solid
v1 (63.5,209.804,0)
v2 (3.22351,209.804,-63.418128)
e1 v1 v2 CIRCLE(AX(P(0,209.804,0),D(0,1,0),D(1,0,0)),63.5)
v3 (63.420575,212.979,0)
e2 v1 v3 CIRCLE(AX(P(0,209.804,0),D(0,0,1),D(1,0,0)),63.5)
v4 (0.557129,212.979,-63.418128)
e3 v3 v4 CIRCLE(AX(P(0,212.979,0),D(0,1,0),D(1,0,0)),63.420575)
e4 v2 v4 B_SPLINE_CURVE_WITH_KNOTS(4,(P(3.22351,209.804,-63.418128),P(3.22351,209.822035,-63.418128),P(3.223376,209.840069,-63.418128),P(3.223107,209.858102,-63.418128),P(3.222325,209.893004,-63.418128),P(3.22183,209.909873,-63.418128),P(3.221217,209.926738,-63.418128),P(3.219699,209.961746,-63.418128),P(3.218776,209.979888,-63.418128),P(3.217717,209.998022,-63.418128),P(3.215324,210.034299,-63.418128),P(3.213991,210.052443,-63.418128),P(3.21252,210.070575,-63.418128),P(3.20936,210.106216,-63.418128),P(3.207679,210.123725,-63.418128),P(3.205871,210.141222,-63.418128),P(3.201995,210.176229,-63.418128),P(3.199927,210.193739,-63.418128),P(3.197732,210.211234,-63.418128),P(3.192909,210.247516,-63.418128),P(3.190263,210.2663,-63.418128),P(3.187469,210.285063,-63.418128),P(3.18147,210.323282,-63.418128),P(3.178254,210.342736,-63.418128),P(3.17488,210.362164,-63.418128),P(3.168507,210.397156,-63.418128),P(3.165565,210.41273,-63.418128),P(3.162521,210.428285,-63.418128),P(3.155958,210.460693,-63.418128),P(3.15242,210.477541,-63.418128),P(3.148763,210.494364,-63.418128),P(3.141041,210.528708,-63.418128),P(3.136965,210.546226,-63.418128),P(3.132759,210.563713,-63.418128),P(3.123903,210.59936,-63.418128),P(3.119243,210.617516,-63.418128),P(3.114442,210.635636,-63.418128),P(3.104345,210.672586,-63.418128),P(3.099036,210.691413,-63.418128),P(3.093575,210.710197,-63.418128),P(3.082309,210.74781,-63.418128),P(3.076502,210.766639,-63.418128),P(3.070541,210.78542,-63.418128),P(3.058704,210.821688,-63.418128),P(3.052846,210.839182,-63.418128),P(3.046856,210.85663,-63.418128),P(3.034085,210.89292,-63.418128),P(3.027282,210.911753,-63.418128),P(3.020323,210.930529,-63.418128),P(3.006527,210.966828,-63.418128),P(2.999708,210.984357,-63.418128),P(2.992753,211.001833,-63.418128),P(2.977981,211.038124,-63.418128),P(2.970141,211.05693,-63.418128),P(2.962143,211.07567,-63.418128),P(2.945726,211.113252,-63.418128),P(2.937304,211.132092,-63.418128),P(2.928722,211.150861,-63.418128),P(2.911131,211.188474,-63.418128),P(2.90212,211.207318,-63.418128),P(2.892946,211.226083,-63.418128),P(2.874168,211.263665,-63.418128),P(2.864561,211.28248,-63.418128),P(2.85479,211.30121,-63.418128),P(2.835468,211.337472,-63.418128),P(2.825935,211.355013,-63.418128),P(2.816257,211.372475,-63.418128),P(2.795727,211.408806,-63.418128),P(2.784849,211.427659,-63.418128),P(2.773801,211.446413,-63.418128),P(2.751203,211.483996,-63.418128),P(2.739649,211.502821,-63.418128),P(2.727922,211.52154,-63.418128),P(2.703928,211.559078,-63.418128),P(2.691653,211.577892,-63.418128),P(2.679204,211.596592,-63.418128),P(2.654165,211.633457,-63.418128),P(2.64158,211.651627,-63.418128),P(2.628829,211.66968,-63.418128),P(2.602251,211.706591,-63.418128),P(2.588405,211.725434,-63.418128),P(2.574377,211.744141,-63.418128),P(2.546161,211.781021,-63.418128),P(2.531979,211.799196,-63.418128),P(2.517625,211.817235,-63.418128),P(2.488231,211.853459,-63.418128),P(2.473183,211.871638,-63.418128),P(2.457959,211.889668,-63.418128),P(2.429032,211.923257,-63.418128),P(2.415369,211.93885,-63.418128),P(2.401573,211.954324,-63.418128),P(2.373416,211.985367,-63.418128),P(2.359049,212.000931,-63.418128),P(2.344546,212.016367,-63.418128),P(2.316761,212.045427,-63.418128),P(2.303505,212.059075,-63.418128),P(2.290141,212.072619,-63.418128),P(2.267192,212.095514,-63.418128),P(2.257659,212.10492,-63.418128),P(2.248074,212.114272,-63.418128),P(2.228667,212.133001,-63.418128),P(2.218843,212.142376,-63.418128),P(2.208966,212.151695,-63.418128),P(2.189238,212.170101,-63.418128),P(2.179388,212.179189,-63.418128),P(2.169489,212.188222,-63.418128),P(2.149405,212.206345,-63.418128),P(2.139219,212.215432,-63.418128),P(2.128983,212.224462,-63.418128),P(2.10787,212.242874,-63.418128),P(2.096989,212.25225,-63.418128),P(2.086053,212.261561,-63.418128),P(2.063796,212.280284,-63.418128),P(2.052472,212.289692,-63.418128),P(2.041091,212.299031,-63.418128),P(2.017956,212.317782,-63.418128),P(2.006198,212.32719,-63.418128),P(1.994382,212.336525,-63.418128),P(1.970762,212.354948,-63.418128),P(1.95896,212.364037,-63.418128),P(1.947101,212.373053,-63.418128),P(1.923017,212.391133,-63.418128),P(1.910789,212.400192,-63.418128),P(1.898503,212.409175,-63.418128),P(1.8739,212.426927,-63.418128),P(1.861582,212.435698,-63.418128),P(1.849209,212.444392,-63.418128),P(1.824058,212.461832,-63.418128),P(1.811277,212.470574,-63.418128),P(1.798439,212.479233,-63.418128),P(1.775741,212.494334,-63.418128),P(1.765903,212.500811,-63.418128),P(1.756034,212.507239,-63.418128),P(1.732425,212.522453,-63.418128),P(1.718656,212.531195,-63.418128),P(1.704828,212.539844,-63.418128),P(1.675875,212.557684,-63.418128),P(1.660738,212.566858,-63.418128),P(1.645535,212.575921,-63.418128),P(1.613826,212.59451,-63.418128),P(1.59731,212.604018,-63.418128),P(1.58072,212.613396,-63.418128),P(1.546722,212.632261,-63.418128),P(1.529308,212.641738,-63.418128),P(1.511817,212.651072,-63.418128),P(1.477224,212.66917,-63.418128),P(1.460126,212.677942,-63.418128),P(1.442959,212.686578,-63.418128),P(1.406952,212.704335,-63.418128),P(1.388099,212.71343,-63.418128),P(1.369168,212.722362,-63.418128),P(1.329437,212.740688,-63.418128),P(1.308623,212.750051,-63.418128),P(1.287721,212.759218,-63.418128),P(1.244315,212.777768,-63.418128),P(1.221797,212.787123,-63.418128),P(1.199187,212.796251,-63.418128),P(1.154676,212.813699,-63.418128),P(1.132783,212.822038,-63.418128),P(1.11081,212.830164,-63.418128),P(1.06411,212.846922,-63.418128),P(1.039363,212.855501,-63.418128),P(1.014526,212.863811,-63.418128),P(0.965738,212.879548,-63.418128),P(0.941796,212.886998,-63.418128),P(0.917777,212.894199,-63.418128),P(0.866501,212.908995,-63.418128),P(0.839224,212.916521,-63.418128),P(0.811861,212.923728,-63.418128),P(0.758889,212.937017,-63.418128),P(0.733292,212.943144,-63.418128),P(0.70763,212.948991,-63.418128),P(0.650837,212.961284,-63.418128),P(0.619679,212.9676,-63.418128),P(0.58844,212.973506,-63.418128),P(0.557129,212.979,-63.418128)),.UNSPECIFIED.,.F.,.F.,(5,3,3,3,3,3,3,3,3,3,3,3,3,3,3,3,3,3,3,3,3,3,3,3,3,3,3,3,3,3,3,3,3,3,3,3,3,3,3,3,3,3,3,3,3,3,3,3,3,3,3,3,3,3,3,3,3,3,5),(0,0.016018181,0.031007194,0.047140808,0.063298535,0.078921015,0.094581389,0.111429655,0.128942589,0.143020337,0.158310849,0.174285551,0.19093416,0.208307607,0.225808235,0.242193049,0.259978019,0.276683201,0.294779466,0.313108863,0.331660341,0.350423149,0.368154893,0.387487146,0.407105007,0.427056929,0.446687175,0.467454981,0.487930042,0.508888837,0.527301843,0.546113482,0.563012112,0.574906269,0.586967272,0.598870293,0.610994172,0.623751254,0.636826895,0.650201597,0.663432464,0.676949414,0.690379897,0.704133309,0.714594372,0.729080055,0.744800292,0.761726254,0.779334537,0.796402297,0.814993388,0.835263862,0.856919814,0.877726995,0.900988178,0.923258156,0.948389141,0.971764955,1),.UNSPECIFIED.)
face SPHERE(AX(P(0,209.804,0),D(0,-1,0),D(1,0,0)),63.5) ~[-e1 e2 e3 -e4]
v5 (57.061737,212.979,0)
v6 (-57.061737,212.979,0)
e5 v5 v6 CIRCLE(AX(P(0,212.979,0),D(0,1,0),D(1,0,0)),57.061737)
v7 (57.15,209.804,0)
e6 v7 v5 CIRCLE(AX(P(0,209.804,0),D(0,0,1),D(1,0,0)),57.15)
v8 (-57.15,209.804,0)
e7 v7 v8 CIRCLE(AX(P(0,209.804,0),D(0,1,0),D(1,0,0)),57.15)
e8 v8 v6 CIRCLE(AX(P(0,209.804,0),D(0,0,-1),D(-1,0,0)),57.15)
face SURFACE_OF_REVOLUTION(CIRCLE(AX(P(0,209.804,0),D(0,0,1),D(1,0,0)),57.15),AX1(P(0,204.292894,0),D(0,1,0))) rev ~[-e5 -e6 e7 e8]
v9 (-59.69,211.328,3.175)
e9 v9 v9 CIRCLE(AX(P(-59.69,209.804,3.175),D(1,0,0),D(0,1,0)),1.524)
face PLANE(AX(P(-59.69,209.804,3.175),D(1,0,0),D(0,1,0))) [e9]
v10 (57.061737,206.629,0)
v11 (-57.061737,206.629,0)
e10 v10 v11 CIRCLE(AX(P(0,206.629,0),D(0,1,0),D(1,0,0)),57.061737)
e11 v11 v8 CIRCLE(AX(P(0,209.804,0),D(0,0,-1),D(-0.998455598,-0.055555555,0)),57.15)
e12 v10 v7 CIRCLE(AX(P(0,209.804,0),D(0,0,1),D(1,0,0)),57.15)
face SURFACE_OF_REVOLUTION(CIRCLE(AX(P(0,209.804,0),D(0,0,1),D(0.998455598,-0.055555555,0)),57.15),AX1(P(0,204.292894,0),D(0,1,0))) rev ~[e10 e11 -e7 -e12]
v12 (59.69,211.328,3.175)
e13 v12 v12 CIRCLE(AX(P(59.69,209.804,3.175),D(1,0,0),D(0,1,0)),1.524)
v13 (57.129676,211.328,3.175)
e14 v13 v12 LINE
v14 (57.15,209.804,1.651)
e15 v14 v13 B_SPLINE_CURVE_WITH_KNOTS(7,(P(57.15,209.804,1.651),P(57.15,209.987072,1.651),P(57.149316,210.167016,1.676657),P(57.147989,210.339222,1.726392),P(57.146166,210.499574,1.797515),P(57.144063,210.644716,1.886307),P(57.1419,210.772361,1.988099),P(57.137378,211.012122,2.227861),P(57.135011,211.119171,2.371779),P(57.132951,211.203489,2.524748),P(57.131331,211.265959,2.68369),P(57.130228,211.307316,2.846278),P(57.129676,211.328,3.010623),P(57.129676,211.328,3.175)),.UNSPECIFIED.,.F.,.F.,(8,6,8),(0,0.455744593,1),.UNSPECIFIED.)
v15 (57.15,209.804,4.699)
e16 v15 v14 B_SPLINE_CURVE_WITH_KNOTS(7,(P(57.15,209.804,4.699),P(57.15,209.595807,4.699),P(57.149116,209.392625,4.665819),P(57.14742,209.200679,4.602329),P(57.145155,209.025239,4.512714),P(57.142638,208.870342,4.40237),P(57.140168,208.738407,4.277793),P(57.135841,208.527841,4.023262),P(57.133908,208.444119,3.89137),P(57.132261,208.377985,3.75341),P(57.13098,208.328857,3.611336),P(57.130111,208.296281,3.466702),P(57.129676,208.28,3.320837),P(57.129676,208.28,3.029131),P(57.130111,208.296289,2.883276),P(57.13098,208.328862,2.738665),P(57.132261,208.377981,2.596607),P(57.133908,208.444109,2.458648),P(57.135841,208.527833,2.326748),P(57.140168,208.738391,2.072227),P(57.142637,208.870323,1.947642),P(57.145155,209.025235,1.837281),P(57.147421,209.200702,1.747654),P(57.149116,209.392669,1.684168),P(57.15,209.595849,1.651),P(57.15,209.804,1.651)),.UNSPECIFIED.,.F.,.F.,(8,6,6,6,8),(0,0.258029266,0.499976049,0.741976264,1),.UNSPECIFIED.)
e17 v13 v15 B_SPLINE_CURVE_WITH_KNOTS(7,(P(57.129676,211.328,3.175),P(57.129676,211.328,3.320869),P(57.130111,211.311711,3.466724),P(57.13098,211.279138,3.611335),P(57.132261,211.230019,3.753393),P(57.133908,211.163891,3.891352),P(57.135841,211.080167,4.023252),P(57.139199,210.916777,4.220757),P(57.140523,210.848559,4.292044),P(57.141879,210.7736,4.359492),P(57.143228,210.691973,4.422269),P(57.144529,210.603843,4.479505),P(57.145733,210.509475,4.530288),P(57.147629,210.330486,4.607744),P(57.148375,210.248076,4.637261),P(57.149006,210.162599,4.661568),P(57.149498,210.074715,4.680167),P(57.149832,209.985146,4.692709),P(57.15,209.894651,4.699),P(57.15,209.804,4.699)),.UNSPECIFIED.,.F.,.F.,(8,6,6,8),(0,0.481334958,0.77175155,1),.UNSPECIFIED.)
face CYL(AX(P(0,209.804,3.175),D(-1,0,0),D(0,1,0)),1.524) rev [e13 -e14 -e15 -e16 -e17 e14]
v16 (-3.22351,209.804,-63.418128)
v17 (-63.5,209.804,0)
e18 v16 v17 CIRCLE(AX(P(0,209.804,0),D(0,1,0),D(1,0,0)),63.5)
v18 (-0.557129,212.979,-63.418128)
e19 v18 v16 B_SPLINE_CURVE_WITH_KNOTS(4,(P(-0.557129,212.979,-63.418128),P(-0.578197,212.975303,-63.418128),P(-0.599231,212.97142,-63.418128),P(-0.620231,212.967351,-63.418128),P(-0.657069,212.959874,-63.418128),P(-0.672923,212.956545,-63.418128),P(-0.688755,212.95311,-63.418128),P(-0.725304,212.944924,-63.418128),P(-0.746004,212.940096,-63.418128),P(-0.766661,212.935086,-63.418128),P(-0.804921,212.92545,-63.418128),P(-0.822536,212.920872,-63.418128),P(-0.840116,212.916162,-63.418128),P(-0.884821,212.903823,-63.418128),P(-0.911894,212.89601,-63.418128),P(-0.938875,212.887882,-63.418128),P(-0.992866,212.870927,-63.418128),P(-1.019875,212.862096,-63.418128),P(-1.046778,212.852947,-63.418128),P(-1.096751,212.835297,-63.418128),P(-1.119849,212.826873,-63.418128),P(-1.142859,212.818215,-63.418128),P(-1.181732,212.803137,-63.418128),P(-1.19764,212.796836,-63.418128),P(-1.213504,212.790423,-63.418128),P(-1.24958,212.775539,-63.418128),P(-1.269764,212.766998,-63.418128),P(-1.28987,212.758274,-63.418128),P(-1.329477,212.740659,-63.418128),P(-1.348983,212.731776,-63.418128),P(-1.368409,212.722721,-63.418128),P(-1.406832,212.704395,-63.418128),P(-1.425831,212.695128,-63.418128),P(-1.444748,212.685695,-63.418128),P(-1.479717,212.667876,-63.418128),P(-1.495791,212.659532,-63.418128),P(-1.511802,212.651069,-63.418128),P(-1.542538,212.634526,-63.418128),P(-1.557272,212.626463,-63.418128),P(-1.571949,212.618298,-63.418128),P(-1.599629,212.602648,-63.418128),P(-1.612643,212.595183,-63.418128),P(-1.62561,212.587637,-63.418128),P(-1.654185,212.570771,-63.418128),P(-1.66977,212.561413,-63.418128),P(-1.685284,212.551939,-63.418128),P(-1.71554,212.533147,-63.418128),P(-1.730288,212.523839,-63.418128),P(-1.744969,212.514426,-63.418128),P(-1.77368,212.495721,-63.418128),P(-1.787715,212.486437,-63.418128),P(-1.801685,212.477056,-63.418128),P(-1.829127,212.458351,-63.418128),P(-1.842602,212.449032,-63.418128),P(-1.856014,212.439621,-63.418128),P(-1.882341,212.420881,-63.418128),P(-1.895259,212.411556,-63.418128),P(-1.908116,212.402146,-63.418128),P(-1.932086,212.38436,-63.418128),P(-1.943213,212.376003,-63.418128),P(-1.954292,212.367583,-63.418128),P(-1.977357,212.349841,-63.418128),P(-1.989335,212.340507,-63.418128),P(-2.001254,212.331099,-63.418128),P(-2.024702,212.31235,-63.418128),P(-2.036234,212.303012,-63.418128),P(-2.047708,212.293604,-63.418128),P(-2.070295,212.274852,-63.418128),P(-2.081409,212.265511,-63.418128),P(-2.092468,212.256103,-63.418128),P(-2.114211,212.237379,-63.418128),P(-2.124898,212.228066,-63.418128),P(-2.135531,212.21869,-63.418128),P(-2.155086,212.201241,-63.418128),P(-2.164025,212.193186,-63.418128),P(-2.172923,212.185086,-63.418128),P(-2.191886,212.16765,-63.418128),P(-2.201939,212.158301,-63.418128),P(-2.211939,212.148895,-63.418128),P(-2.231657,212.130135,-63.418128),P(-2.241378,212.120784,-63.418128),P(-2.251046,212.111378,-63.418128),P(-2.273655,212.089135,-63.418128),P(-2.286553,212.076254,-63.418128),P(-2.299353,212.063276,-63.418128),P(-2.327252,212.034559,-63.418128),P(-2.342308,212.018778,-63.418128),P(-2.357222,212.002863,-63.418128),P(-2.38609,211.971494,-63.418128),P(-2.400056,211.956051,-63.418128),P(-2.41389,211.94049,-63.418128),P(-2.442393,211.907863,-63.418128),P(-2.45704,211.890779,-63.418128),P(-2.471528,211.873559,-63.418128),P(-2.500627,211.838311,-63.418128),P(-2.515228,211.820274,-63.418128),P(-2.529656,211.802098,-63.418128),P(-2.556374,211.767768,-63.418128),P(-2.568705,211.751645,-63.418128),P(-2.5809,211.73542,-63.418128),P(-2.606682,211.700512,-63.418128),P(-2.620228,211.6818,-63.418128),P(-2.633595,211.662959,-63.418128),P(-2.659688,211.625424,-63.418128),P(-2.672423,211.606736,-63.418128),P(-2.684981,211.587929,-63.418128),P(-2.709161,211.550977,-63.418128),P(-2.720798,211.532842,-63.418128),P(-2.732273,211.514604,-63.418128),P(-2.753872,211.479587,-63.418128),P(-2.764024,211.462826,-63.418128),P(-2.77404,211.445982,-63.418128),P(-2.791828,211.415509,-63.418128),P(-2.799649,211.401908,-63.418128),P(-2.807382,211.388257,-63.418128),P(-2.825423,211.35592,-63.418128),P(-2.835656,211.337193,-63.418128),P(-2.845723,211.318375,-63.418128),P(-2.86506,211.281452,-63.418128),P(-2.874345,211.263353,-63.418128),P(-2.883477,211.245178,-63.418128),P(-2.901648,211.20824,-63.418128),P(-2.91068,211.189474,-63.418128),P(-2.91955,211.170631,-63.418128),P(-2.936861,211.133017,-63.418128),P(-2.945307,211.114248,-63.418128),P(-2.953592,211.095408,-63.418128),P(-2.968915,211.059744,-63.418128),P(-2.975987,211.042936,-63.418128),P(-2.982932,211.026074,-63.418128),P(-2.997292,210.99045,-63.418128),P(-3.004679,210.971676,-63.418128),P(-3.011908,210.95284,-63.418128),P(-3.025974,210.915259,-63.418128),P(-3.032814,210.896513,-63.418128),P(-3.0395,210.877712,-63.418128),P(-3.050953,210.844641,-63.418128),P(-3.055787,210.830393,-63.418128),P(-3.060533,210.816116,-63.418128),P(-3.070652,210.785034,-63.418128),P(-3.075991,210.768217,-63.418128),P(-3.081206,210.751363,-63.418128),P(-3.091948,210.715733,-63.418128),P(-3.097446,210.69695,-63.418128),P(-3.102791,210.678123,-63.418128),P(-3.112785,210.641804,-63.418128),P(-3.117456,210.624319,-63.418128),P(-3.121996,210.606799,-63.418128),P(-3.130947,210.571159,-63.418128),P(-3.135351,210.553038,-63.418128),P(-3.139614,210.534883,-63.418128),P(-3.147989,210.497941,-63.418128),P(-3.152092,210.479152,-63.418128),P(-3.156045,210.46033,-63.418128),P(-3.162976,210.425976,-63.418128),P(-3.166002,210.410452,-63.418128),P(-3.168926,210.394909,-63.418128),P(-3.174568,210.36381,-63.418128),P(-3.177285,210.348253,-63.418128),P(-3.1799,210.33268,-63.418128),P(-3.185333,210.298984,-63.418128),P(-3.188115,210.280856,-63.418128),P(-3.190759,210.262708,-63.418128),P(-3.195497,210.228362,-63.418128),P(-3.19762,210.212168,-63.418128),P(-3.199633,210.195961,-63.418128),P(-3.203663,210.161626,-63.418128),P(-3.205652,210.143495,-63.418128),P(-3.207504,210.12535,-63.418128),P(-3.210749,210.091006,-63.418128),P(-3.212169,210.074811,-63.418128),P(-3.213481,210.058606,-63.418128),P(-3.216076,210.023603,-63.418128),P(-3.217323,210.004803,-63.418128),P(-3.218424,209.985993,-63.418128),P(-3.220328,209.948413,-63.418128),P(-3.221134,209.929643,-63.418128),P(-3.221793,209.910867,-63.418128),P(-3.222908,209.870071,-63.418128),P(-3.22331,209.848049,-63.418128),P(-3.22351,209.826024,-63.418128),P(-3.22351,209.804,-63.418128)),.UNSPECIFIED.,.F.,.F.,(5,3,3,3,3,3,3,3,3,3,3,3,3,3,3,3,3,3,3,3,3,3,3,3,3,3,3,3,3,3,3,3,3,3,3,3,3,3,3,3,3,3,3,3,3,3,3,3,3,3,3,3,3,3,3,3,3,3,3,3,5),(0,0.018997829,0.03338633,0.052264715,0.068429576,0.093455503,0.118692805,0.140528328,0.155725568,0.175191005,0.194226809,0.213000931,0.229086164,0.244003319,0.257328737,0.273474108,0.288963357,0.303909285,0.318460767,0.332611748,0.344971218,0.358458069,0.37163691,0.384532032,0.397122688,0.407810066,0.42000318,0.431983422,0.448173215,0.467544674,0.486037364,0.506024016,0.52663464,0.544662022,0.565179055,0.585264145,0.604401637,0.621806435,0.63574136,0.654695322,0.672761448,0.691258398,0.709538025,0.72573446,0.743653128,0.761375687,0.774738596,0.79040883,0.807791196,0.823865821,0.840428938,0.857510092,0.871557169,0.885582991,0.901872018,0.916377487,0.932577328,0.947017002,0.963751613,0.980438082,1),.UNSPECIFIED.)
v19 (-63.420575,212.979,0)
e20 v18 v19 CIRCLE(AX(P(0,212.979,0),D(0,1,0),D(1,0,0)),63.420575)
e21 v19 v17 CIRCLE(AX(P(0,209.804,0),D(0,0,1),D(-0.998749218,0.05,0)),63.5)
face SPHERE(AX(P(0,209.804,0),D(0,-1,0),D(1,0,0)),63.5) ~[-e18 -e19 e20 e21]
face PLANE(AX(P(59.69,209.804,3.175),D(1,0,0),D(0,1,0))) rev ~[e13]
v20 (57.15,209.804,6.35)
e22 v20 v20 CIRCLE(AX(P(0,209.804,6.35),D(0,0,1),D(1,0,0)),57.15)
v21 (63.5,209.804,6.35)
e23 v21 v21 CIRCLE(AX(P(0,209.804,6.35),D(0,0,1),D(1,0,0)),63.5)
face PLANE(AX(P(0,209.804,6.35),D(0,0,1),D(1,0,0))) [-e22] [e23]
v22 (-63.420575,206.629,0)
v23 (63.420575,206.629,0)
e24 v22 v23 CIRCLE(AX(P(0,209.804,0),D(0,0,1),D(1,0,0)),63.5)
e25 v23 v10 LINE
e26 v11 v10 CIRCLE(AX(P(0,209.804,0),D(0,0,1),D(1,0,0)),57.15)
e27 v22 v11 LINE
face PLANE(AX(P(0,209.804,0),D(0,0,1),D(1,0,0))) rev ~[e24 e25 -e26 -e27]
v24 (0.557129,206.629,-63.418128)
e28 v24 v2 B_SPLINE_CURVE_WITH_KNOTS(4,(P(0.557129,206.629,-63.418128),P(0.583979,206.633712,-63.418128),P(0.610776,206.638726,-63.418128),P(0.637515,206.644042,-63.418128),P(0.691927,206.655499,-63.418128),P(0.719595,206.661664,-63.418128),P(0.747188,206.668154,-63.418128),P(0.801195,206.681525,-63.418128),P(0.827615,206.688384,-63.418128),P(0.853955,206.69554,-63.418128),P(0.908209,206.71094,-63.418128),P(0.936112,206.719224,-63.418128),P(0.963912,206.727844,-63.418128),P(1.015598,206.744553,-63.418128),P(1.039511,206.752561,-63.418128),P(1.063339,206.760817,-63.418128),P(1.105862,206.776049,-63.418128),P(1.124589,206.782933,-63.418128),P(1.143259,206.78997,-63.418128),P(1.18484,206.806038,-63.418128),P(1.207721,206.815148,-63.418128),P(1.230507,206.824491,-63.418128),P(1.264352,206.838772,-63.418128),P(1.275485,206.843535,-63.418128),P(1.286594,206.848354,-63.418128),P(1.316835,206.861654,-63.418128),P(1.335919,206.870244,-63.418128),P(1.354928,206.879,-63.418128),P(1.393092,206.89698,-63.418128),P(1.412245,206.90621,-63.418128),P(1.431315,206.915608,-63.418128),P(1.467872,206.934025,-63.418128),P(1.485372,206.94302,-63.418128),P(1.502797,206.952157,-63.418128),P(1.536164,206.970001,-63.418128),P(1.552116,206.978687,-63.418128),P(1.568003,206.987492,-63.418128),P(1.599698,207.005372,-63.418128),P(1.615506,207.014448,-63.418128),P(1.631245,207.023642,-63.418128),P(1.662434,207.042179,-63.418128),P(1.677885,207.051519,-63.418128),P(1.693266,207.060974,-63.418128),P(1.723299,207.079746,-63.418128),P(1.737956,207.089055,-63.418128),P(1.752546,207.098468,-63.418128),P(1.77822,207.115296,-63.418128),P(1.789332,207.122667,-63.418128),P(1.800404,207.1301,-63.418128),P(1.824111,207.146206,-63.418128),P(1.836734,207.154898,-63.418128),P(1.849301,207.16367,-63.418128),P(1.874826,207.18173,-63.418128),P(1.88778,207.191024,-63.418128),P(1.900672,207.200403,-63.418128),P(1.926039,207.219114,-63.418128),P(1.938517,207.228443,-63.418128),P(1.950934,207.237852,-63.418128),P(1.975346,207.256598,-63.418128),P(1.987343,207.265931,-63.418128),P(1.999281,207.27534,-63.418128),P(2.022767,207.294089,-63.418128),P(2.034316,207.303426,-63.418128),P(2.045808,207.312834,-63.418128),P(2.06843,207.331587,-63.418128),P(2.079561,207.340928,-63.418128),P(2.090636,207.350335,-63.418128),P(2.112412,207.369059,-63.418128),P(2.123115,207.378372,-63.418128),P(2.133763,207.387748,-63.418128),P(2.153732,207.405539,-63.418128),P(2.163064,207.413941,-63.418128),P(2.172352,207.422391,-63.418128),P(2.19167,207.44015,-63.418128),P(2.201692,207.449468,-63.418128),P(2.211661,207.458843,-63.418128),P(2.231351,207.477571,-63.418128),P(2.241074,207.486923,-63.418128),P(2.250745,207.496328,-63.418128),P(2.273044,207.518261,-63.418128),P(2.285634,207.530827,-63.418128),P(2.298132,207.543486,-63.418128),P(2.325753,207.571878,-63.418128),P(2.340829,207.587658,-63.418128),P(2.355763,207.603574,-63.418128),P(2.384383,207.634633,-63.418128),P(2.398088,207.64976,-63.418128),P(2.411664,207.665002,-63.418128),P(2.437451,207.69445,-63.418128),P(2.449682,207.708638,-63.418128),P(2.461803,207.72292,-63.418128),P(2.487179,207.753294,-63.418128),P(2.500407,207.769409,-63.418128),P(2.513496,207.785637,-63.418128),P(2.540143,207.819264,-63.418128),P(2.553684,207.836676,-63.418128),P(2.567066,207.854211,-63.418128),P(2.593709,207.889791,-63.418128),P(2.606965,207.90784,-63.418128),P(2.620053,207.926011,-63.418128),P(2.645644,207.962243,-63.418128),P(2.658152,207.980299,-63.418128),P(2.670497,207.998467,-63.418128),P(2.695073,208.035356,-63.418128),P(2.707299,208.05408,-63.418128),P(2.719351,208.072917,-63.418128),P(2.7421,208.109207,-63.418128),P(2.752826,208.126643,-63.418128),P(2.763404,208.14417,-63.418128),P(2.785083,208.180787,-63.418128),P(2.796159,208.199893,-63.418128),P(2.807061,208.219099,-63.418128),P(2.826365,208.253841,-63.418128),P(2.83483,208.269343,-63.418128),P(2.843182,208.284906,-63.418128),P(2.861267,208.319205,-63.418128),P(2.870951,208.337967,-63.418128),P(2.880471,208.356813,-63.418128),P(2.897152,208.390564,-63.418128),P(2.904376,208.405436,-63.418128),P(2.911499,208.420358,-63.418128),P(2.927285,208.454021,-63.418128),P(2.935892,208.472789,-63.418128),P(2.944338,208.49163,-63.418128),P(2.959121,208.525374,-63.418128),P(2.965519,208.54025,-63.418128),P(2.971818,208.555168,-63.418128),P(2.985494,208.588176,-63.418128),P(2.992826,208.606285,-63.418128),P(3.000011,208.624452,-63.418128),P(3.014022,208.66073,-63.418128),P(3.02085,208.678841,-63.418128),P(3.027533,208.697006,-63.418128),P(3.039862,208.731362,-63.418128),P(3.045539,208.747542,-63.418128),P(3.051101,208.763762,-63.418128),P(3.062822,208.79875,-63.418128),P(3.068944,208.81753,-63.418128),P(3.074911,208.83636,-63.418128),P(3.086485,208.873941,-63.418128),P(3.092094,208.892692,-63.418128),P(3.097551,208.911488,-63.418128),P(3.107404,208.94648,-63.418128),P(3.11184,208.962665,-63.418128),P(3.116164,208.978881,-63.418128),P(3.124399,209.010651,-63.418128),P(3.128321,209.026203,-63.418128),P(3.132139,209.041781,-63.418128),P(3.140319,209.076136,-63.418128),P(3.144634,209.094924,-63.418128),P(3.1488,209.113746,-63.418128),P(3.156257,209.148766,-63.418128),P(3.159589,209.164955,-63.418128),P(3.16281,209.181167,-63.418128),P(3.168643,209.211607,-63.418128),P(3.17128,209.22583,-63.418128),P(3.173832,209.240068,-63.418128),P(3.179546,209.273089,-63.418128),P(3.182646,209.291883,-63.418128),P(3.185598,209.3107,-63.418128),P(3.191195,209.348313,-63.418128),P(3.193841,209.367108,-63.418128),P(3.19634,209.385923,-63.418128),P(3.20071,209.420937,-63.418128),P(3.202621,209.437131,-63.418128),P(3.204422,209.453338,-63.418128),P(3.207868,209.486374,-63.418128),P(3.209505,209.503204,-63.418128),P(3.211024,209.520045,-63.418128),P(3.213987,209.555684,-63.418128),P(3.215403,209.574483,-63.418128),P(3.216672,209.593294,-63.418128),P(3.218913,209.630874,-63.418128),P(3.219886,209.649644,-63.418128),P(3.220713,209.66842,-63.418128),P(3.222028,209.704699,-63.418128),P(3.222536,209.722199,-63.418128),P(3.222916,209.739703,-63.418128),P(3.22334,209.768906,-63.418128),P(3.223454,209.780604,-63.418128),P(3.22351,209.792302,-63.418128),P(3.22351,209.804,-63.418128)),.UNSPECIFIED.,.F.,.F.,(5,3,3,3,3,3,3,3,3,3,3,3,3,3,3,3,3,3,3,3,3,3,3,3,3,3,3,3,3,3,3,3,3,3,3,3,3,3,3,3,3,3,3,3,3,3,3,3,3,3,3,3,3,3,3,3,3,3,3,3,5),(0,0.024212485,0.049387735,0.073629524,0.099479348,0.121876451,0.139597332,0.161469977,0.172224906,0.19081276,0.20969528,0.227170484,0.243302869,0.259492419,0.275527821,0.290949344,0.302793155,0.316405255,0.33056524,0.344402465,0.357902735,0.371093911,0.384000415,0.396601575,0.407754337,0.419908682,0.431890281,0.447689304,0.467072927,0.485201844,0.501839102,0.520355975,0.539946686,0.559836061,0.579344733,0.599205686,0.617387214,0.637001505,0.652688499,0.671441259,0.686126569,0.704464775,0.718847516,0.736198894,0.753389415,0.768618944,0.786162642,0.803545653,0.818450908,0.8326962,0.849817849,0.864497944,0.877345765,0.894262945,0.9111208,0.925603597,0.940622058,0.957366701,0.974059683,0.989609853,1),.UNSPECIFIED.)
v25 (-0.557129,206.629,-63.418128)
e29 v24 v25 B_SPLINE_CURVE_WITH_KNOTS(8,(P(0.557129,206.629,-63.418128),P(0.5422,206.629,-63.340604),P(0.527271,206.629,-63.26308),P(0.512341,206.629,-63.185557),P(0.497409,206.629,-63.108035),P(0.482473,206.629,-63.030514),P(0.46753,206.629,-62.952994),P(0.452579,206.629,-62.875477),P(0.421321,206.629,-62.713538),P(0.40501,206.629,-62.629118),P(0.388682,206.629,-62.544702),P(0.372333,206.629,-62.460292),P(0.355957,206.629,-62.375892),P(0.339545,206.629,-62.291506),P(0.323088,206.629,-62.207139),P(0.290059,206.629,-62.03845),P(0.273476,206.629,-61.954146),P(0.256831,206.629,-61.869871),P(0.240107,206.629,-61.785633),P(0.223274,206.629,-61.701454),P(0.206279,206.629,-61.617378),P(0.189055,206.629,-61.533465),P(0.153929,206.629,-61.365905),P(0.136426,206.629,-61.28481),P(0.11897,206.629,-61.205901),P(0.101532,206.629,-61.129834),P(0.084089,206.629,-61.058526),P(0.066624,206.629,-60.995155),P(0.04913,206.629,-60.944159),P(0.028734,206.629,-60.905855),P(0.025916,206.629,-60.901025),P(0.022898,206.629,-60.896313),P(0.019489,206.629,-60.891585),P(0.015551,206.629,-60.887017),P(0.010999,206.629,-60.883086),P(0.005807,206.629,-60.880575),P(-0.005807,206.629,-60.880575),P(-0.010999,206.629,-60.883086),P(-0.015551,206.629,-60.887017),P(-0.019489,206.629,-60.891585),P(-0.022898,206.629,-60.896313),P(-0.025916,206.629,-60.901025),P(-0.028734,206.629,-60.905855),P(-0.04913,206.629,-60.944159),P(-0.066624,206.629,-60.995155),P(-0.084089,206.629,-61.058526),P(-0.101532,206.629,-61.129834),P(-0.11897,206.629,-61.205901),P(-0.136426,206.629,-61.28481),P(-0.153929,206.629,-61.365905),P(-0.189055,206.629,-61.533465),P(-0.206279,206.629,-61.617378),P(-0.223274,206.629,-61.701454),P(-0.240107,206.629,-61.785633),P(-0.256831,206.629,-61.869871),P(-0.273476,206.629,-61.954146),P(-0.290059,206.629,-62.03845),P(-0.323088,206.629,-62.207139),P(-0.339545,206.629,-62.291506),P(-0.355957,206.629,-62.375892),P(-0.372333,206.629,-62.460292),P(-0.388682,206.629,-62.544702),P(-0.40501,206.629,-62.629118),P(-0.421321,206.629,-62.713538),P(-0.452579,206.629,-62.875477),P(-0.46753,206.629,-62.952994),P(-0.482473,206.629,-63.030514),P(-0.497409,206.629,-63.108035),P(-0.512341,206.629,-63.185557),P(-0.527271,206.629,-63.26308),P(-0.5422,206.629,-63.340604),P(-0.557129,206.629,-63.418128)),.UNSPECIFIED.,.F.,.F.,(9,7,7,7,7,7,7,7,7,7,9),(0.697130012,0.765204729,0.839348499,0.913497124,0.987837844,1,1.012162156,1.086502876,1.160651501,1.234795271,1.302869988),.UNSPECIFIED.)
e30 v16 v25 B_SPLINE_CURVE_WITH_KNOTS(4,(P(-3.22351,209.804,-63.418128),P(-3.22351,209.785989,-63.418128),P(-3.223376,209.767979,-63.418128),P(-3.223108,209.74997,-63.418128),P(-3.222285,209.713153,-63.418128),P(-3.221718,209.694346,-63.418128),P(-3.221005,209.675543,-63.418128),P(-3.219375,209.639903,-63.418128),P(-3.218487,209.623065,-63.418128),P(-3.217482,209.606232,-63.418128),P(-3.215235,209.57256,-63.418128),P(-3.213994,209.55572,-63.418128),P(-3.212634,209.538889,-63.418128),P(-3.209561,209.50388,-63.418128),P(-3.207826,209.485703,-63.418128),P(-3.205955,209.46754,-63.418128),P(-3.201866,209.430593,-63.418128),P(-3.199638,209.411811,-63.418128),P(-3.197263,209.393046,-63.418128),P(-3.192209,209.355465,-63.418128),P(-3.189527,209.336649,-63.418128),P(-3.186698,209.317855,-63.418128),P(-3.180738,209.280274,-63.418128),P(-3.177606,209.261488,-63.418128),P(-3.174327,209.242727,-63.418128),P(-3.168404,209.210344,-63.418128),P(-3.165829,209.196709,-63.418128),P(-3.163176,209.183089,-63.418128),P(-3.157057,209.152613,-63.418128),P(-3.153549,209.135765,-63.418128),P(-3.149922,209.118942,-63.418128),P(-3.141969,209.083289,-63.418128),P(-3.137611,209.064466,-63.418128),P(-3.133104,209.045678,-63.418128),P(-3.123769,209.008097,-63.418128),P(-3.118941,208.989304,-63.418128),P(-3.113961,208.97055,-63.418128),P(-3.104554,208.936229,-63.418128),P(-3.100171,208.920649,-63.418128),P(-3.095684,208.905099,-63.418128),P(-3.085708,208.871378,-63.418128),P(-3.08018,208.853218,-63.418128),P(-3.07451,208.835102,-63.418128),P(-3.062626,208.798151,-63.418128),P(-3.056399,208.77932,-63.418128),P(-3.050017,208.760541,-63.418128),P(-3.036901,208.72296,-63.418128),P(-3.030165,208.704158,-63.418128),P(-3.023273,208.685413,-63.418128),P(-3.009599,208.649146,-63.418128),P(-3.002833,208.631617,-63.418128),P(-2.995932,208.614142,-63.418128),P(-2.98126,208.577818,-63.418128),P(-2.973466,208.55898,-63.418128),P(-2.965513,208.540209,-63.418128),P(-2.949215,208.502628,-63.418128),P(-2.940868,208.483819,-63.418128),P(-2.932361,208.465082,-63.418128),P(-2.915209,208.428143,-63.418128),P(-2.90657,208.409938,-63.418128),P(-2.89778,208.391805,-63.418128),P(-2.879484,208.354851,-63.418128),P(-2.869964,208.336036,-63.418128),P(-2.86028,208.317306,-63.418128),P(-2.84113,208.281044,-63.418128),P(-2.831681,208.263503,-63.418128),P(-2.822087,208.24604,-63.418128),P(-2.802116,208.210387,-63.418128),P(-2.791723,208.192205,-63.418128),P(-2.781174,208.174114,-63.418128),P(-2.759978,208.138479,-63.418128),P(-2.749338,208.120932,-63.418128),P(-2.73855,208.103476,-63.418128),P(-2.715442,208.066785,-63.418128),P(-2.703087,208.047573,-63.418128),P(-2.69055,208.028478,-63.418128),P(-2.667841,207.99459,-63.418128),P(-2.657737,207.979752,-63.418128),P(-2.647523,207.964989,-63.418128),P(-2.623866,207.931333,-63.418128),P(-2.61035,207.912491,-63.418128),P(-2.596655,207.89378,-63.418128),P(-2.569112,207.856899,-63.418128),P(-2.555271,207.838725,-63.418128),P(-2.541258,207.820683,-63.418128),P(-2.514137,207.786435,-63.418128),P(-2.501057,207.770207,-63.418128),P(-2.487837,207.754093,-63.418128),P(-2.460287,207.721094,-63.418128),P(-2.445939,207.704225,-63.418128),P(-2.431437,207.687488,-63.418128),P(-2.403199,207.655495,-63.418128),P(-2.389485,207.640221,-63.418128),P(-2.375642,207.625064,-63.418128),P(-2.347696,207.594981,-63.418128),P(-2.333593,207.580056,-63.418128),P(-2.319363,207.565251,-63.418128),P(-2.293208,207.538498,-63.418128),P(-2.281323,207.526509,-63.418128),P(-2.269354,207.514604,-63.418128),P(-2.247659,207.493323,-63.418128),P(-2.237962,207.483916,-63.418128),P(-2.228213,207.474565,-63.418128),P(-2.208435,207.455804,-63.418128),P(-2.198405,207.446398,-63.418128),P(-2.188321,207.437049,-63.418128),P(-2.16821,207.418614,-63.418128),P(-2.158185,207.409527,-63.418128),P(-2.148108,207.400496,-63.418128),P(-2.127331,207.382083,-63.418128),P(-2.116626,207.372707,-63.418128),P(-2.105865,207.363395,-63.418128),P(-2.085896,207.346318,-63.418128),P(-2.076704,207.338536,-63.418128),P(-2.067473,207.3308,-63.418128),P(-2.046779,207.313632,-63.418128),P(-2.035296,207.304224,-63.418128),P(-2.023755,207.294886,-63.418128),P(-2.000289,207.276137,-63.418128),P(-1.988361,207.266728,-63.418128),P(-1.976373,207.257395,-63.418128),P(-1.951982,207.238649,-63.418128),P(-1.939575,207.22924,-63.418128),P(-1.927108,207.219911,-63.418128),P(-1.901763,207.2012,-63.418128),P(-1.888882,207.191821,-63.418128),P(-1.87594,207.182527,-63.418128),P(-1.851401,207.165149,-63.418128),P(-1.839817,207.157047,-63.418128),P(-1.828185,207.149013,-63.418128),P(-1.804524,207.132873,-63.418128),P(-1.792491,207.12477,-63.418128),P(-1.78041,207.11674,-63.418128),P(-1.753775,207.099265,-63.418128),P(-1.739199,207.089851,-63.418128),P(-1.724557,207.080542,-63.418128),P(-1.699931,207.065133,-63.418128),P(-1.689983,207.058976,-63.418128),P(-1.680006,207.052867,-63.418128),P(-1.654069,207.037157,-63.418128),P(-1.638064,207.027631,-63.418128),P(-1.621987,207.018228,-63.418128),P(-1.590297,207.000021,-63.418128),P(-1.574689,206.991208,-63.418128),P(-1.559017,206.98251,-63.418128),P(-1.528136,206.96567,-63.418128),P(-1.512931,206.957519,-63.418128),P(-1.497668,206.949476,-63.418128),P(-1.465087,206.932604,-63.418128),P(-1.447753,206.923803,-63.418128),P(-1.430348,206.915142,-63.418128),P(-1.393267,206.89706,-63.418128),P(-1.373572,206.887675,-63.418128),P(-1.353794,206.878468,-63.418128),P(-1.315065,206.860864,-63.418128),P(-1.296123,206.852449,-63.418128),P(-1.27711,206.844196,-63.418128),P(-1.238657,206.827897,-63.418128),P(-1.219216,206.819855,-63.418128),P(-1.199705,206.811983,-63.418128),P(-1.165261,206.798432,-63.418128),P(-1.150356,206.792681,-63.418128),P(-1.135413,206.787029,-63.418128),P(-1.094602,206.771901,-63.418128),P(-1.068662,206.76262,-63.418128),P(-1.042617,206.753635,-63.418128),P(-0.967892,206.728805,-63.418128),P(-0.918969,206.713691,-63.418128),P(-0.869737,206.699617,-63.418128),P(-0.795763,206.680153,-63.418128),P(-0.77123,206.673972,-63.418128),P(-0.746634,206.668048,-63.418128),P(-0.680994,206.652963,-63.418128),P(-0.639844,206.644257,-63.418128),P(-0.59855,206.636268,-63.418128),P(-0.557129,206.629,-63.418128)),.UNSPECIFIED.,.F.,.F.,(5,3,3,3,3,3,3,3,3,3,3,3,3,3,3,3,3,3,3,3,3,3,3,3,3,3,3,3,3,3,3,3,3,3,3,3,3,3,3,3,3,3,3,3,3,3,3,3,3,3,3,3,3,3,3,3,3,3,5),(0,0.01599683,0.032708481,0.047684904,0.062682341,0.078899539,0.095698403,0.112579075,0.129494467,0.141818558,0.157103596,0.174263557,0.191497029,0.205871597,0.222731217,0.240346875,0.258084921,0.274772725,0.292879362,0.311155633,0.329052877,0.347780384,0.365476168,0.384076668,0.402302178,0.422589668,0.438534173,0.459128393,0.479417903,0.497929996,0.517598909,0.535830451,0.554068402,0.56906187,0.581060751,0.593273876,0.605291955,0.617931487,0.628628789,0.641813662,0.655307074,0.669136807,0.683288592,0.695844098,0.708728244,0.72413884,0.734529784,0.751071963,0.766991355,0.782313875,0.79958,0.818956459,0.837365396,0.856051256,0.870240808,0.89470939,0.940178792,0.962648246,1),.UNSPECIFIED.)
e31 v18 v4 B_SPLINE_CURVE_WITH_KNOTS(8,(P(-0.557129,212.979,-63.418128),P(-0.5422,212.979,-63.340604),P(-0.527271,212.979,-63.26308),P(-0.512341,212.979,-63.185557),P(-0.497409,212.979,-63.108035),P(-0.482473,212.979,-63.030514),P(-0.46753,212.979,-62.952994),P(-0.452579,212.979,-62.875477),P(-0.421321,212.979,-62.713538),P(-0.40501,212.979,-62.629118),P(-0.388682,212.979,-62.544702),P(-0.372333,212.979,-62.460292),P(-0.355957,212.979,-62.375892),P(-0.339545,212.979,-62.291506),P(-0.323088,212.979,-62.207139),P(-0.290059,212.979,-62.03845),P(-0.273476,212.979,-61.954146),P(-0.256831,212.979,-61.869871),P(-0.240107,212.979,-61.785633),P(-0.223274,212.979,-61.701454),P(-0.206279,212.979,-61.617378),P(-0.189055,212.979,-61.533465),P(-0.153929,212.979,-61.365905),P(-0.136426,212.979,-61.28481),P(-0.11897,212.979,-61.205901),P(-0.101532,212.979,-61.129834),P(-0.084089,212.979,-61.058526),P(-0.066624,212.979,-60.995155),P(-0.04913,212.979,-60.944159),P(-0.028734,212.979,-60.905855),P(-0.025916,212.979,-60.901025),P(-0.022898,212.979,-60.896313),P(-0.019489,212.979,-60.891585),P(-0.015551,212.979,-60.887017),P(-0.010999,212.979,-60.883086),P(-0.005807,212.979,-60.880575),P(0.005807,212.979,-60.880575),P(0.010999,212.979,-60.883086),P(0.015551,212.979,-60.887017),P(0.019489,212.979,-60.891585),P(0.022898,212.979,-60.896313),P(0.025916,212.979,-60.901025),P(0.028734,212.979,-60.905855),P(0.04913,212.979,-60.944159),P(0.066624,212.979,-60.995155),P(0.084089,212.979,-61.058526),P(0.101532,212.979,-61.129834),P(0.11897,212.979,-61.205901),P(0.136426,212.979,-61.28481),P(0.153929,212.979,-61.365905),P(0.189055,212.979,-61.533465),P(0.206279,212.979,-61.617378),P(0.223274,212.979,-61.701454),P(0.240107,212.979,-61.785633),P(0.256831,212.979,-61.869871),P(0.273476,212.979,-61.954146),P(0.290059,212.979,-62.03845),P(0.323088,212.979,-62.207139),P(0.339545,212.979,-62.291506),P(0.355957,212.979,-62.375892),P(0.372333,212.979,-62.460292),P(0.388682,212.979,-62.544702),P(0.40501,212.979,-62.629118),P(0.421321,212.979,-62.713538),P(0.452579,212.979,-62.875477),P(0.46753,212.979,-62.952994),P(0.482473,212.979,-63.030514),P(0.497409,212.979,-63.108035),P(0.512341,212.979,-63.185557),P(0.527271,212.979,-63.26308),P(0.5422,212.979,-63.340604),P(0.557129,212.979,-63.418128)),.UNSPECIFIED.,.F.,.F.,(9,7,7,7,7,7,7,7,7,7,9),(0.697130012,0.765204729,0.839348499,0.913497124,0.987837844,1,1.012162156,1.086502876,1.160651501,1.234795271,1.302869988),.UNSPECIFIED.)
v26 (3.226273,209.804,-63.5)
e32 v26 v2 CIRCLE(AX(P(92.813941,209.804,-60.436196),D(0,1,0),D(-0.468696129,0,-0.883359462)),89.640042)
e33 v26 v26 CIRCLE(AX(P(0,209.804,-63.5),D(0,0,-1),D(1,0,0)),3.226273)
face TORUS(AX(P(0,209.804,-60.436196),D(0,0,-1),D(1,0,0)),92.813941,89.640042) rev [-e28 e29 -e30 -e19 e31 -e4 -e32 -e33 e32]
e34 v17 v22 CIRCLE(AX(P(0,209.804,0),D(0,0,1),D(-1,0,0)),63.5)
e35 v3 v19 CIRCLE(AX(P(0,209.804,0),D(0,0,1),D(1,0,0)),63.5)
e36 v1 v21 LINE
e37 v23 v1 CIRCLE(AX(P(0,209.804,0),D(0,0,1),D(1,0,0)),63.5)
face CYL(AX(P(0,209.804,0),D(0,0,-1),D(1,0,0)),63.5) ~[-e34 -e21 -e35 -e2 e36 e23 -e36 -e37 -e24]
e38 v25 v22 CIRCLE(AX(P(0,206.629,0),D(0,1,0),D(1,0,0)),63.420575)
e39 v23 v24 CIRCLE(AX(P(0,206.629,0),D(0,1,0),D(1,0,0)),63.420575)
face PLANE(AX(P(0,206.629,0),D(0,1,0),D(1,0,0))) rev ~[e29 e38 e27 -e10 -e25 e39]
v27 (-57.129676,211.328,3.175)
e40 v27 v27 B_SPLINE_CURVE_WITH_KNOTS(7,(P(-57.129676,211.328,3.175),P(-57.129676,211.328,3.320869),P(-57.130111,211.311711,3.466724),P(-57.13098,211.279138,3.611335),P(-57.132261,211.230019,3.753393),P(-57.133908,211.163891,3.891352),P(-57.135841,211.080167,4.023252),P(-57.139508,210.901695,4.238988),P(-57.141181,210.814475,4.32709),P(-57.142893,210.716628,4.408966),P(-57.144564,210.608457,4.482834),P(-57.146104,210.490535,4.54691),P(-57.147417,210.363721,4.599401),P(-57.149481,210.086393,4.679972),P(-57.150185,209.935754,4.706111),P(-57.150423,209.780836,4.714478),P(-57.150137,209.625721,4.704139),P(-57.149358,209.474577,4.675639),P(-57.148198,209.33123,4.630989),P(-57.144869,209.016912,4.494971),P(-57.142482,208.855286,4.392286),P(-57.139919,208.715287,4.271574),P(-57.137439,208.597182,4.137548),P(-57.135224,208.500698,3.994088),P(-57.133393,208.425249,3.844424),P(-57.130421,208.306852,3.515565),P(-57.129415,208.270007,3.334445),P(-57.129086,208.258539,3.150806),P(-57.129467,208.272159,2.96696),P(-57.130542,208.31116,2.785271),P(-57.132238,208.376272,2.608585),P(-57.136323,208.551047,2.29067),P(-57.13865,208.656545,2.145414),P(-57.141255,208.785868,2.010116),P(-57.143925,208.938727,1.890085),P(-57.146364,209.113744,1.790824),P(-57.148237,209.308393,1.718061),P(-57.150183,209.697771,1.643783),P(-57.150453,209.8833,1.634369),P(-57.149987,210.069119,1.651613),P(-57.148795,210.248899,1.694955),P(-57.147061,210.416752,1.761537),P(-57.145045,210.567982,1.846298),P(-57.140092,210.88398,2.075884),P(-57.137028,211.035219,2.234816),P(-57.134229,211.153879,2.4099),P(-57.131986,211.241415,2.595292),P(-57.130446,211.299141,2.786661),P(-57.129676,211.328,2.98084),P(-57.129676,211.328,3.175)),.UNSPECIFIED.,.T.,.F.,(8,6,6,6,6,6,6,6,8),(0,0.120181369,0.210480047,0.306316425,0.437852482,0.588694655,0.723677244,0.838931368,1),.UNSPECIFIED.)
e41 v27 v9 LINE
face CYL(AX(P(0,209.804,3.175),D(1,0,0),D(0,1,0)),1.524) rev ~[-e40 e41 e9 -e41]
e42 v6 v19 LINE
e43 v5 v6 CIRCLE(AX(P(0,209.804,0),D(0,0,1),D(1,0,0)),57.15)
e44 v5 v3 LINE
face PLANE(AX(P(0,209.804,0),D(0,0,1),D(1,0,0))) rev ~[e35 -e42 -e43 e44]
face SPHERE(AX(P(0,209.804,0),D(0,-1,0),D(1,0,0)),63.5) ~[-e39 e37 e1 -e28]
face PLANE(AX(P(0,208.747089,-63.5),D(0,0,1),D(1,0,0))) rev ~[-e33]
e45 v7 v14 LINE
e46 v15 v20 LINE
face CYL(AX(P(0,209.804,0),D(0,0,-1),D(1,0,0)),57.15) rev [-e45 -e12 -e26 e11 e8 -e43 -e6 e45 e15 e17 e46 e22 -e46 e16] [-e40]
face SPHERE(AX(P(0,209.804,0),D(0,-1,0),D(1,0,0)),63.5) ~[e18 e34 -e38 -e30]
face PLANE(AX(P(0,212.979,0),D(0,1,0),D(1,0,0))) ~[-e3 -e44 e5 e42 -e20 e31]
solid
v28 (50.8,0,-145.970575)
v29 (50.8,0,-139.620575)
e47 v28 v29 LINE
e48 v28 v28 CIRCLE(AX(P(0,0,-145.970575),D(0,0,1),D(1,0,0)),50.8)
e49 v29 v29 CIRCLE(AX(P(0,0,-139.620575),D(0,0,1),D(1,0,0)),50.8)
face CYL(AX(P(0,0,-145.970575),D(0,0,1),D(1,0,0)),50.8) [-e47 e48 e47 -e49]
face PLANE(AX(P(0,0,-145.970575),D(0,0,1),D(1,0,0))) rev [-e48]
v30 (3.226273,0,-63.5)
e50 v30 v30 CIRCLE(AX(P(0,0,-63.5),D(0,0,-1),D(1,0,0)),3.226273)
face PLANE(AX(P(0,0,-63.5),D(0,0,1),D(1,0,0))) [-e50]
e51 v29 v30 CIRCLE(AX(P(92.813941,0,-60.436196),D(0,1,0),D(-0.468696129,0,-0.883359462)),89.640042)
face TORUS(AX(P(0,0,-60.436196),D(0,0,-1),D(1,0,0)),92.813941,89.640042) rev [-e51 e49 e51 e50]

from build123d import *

# Parameters (mm, degrees)
F0_R           = 63.5
F0_R_2         = 57.15
F1_DEPTH       = 6.35
F3_ANGLE       = 180
F6_R           = 1.524
F7_DEPTH       = 59.69
F7_DEPTH_BACK  = 59.69
F9_R           = 79.8874363082
F10_DEPTH      = 63.5
F10_DEPTH_BACK = 6.3510001
F11_R          = 96.9810334846
F12_DEPTH      = 82.4715753285


with BuildPart() as f1:
    # F0 (on Top) → F1 (new body)
    with BuildSketch(Plane.XY):
        Circle(F0_R)
        Circle(F0_R_2, mode=Mode.SUBTRACT)
    extrude(amount=F1_DEPTH)

    # F2 (on face) → F3 (revolve)
    with BuildSketch(Plane(origin=(0, 0, 0), x_dir=(1, 0, 0), z_dir=(0, 0, -1))):
        with BuildLine():
            Line((63.4205753285, 3.175), (57.0617373991, 3.175))
            ThreePointArc((57.0617373991, 3.175), (57.1279300883, 1.5881132899), (57.15, 0))
            ThreePointArc((57.15, 0), (57.1279300883, -1.5881132899), (57.0617373991, -3.175))
            Line((57.0617373991, -3.175), (63.4205753285, -3.175))
            ThreePointArc((63.4205753285, -3.175), (63.4801407267, -1.5879966372), (63.5, 0))
            ThreePointArc((63.5, 0), (63.4801407267, 1.5879966372), (63.4205753285, 3.175))
        make_face()
    revolve(axis=Axis((0, -5.5111055262, 0), (0, 1, 0)), revolution_arc=F3_ANGLE)

    # F4 (on Front) → F5 (revolve)
    with BuildSketch(Plane.XZ):
        with BuildLine():
            ThreePointArc((50.8, -139.6205753285), (16.1124596806, -106.828220683), (3.175, -60.8805753285))
            Line((3.175, -60.8805753285), (0, -60.8805753285))
            Line((0, -60.8805753285), (0, -145.9705753285))
            Line((0, -145.9705753285), (50.8, -145.9705753285))
            Line((50.8, -145.9705753285), (50.8, -139.6205753285))
        make_face()
    revolve(axis=Axis((0, 0, -103.4255753285), (0, 0, 1)))

    # F6 (on Right) → F7 (cut, two sides)
    with BuildSketch(Plane.YZ) as f7_sk:
        with Locations((0, 3.175)):
            Circle(F6_R)
    extrude(amount=-F7_DEPTH, mode=Mode.SUBTRACT)
    extrude(f7_sk.sketch, amount=F7_DEPTH_BACK, mode=Mode.SUBTRACT)


with BuildPart() as f8_1:
    # F8: copy of F1
    add(f1.part.moved(Location((0, 209.804, 0))))

    # F11 (on face) → F12 (cut, through all)
    with BuildSketch(Plane.XY.offset(-63.5)):
        with Locations((0, 208.7470889091)):
            Circle(F11_R)
    extrude(amount=-F12_DEPTH, mode=Mode.SUBTRACT)


with BuildPart() as f1_1:
    add(f1.part)

    # F9 (on Top) → F10 (cut, two sides)
    with BuildSketch(Plane.XY) as f10_sk:
        Circle(F9_R)
    extrude(amount=-F10_DEPTH, mode=Mode.SUBTRACT)
    extrude(f10_sk.sketch, amount=F10_DEPTH_BACK, mode=Mode.SUBTRACT)


solid = Compound([f8_1.part, f1_1.part])
